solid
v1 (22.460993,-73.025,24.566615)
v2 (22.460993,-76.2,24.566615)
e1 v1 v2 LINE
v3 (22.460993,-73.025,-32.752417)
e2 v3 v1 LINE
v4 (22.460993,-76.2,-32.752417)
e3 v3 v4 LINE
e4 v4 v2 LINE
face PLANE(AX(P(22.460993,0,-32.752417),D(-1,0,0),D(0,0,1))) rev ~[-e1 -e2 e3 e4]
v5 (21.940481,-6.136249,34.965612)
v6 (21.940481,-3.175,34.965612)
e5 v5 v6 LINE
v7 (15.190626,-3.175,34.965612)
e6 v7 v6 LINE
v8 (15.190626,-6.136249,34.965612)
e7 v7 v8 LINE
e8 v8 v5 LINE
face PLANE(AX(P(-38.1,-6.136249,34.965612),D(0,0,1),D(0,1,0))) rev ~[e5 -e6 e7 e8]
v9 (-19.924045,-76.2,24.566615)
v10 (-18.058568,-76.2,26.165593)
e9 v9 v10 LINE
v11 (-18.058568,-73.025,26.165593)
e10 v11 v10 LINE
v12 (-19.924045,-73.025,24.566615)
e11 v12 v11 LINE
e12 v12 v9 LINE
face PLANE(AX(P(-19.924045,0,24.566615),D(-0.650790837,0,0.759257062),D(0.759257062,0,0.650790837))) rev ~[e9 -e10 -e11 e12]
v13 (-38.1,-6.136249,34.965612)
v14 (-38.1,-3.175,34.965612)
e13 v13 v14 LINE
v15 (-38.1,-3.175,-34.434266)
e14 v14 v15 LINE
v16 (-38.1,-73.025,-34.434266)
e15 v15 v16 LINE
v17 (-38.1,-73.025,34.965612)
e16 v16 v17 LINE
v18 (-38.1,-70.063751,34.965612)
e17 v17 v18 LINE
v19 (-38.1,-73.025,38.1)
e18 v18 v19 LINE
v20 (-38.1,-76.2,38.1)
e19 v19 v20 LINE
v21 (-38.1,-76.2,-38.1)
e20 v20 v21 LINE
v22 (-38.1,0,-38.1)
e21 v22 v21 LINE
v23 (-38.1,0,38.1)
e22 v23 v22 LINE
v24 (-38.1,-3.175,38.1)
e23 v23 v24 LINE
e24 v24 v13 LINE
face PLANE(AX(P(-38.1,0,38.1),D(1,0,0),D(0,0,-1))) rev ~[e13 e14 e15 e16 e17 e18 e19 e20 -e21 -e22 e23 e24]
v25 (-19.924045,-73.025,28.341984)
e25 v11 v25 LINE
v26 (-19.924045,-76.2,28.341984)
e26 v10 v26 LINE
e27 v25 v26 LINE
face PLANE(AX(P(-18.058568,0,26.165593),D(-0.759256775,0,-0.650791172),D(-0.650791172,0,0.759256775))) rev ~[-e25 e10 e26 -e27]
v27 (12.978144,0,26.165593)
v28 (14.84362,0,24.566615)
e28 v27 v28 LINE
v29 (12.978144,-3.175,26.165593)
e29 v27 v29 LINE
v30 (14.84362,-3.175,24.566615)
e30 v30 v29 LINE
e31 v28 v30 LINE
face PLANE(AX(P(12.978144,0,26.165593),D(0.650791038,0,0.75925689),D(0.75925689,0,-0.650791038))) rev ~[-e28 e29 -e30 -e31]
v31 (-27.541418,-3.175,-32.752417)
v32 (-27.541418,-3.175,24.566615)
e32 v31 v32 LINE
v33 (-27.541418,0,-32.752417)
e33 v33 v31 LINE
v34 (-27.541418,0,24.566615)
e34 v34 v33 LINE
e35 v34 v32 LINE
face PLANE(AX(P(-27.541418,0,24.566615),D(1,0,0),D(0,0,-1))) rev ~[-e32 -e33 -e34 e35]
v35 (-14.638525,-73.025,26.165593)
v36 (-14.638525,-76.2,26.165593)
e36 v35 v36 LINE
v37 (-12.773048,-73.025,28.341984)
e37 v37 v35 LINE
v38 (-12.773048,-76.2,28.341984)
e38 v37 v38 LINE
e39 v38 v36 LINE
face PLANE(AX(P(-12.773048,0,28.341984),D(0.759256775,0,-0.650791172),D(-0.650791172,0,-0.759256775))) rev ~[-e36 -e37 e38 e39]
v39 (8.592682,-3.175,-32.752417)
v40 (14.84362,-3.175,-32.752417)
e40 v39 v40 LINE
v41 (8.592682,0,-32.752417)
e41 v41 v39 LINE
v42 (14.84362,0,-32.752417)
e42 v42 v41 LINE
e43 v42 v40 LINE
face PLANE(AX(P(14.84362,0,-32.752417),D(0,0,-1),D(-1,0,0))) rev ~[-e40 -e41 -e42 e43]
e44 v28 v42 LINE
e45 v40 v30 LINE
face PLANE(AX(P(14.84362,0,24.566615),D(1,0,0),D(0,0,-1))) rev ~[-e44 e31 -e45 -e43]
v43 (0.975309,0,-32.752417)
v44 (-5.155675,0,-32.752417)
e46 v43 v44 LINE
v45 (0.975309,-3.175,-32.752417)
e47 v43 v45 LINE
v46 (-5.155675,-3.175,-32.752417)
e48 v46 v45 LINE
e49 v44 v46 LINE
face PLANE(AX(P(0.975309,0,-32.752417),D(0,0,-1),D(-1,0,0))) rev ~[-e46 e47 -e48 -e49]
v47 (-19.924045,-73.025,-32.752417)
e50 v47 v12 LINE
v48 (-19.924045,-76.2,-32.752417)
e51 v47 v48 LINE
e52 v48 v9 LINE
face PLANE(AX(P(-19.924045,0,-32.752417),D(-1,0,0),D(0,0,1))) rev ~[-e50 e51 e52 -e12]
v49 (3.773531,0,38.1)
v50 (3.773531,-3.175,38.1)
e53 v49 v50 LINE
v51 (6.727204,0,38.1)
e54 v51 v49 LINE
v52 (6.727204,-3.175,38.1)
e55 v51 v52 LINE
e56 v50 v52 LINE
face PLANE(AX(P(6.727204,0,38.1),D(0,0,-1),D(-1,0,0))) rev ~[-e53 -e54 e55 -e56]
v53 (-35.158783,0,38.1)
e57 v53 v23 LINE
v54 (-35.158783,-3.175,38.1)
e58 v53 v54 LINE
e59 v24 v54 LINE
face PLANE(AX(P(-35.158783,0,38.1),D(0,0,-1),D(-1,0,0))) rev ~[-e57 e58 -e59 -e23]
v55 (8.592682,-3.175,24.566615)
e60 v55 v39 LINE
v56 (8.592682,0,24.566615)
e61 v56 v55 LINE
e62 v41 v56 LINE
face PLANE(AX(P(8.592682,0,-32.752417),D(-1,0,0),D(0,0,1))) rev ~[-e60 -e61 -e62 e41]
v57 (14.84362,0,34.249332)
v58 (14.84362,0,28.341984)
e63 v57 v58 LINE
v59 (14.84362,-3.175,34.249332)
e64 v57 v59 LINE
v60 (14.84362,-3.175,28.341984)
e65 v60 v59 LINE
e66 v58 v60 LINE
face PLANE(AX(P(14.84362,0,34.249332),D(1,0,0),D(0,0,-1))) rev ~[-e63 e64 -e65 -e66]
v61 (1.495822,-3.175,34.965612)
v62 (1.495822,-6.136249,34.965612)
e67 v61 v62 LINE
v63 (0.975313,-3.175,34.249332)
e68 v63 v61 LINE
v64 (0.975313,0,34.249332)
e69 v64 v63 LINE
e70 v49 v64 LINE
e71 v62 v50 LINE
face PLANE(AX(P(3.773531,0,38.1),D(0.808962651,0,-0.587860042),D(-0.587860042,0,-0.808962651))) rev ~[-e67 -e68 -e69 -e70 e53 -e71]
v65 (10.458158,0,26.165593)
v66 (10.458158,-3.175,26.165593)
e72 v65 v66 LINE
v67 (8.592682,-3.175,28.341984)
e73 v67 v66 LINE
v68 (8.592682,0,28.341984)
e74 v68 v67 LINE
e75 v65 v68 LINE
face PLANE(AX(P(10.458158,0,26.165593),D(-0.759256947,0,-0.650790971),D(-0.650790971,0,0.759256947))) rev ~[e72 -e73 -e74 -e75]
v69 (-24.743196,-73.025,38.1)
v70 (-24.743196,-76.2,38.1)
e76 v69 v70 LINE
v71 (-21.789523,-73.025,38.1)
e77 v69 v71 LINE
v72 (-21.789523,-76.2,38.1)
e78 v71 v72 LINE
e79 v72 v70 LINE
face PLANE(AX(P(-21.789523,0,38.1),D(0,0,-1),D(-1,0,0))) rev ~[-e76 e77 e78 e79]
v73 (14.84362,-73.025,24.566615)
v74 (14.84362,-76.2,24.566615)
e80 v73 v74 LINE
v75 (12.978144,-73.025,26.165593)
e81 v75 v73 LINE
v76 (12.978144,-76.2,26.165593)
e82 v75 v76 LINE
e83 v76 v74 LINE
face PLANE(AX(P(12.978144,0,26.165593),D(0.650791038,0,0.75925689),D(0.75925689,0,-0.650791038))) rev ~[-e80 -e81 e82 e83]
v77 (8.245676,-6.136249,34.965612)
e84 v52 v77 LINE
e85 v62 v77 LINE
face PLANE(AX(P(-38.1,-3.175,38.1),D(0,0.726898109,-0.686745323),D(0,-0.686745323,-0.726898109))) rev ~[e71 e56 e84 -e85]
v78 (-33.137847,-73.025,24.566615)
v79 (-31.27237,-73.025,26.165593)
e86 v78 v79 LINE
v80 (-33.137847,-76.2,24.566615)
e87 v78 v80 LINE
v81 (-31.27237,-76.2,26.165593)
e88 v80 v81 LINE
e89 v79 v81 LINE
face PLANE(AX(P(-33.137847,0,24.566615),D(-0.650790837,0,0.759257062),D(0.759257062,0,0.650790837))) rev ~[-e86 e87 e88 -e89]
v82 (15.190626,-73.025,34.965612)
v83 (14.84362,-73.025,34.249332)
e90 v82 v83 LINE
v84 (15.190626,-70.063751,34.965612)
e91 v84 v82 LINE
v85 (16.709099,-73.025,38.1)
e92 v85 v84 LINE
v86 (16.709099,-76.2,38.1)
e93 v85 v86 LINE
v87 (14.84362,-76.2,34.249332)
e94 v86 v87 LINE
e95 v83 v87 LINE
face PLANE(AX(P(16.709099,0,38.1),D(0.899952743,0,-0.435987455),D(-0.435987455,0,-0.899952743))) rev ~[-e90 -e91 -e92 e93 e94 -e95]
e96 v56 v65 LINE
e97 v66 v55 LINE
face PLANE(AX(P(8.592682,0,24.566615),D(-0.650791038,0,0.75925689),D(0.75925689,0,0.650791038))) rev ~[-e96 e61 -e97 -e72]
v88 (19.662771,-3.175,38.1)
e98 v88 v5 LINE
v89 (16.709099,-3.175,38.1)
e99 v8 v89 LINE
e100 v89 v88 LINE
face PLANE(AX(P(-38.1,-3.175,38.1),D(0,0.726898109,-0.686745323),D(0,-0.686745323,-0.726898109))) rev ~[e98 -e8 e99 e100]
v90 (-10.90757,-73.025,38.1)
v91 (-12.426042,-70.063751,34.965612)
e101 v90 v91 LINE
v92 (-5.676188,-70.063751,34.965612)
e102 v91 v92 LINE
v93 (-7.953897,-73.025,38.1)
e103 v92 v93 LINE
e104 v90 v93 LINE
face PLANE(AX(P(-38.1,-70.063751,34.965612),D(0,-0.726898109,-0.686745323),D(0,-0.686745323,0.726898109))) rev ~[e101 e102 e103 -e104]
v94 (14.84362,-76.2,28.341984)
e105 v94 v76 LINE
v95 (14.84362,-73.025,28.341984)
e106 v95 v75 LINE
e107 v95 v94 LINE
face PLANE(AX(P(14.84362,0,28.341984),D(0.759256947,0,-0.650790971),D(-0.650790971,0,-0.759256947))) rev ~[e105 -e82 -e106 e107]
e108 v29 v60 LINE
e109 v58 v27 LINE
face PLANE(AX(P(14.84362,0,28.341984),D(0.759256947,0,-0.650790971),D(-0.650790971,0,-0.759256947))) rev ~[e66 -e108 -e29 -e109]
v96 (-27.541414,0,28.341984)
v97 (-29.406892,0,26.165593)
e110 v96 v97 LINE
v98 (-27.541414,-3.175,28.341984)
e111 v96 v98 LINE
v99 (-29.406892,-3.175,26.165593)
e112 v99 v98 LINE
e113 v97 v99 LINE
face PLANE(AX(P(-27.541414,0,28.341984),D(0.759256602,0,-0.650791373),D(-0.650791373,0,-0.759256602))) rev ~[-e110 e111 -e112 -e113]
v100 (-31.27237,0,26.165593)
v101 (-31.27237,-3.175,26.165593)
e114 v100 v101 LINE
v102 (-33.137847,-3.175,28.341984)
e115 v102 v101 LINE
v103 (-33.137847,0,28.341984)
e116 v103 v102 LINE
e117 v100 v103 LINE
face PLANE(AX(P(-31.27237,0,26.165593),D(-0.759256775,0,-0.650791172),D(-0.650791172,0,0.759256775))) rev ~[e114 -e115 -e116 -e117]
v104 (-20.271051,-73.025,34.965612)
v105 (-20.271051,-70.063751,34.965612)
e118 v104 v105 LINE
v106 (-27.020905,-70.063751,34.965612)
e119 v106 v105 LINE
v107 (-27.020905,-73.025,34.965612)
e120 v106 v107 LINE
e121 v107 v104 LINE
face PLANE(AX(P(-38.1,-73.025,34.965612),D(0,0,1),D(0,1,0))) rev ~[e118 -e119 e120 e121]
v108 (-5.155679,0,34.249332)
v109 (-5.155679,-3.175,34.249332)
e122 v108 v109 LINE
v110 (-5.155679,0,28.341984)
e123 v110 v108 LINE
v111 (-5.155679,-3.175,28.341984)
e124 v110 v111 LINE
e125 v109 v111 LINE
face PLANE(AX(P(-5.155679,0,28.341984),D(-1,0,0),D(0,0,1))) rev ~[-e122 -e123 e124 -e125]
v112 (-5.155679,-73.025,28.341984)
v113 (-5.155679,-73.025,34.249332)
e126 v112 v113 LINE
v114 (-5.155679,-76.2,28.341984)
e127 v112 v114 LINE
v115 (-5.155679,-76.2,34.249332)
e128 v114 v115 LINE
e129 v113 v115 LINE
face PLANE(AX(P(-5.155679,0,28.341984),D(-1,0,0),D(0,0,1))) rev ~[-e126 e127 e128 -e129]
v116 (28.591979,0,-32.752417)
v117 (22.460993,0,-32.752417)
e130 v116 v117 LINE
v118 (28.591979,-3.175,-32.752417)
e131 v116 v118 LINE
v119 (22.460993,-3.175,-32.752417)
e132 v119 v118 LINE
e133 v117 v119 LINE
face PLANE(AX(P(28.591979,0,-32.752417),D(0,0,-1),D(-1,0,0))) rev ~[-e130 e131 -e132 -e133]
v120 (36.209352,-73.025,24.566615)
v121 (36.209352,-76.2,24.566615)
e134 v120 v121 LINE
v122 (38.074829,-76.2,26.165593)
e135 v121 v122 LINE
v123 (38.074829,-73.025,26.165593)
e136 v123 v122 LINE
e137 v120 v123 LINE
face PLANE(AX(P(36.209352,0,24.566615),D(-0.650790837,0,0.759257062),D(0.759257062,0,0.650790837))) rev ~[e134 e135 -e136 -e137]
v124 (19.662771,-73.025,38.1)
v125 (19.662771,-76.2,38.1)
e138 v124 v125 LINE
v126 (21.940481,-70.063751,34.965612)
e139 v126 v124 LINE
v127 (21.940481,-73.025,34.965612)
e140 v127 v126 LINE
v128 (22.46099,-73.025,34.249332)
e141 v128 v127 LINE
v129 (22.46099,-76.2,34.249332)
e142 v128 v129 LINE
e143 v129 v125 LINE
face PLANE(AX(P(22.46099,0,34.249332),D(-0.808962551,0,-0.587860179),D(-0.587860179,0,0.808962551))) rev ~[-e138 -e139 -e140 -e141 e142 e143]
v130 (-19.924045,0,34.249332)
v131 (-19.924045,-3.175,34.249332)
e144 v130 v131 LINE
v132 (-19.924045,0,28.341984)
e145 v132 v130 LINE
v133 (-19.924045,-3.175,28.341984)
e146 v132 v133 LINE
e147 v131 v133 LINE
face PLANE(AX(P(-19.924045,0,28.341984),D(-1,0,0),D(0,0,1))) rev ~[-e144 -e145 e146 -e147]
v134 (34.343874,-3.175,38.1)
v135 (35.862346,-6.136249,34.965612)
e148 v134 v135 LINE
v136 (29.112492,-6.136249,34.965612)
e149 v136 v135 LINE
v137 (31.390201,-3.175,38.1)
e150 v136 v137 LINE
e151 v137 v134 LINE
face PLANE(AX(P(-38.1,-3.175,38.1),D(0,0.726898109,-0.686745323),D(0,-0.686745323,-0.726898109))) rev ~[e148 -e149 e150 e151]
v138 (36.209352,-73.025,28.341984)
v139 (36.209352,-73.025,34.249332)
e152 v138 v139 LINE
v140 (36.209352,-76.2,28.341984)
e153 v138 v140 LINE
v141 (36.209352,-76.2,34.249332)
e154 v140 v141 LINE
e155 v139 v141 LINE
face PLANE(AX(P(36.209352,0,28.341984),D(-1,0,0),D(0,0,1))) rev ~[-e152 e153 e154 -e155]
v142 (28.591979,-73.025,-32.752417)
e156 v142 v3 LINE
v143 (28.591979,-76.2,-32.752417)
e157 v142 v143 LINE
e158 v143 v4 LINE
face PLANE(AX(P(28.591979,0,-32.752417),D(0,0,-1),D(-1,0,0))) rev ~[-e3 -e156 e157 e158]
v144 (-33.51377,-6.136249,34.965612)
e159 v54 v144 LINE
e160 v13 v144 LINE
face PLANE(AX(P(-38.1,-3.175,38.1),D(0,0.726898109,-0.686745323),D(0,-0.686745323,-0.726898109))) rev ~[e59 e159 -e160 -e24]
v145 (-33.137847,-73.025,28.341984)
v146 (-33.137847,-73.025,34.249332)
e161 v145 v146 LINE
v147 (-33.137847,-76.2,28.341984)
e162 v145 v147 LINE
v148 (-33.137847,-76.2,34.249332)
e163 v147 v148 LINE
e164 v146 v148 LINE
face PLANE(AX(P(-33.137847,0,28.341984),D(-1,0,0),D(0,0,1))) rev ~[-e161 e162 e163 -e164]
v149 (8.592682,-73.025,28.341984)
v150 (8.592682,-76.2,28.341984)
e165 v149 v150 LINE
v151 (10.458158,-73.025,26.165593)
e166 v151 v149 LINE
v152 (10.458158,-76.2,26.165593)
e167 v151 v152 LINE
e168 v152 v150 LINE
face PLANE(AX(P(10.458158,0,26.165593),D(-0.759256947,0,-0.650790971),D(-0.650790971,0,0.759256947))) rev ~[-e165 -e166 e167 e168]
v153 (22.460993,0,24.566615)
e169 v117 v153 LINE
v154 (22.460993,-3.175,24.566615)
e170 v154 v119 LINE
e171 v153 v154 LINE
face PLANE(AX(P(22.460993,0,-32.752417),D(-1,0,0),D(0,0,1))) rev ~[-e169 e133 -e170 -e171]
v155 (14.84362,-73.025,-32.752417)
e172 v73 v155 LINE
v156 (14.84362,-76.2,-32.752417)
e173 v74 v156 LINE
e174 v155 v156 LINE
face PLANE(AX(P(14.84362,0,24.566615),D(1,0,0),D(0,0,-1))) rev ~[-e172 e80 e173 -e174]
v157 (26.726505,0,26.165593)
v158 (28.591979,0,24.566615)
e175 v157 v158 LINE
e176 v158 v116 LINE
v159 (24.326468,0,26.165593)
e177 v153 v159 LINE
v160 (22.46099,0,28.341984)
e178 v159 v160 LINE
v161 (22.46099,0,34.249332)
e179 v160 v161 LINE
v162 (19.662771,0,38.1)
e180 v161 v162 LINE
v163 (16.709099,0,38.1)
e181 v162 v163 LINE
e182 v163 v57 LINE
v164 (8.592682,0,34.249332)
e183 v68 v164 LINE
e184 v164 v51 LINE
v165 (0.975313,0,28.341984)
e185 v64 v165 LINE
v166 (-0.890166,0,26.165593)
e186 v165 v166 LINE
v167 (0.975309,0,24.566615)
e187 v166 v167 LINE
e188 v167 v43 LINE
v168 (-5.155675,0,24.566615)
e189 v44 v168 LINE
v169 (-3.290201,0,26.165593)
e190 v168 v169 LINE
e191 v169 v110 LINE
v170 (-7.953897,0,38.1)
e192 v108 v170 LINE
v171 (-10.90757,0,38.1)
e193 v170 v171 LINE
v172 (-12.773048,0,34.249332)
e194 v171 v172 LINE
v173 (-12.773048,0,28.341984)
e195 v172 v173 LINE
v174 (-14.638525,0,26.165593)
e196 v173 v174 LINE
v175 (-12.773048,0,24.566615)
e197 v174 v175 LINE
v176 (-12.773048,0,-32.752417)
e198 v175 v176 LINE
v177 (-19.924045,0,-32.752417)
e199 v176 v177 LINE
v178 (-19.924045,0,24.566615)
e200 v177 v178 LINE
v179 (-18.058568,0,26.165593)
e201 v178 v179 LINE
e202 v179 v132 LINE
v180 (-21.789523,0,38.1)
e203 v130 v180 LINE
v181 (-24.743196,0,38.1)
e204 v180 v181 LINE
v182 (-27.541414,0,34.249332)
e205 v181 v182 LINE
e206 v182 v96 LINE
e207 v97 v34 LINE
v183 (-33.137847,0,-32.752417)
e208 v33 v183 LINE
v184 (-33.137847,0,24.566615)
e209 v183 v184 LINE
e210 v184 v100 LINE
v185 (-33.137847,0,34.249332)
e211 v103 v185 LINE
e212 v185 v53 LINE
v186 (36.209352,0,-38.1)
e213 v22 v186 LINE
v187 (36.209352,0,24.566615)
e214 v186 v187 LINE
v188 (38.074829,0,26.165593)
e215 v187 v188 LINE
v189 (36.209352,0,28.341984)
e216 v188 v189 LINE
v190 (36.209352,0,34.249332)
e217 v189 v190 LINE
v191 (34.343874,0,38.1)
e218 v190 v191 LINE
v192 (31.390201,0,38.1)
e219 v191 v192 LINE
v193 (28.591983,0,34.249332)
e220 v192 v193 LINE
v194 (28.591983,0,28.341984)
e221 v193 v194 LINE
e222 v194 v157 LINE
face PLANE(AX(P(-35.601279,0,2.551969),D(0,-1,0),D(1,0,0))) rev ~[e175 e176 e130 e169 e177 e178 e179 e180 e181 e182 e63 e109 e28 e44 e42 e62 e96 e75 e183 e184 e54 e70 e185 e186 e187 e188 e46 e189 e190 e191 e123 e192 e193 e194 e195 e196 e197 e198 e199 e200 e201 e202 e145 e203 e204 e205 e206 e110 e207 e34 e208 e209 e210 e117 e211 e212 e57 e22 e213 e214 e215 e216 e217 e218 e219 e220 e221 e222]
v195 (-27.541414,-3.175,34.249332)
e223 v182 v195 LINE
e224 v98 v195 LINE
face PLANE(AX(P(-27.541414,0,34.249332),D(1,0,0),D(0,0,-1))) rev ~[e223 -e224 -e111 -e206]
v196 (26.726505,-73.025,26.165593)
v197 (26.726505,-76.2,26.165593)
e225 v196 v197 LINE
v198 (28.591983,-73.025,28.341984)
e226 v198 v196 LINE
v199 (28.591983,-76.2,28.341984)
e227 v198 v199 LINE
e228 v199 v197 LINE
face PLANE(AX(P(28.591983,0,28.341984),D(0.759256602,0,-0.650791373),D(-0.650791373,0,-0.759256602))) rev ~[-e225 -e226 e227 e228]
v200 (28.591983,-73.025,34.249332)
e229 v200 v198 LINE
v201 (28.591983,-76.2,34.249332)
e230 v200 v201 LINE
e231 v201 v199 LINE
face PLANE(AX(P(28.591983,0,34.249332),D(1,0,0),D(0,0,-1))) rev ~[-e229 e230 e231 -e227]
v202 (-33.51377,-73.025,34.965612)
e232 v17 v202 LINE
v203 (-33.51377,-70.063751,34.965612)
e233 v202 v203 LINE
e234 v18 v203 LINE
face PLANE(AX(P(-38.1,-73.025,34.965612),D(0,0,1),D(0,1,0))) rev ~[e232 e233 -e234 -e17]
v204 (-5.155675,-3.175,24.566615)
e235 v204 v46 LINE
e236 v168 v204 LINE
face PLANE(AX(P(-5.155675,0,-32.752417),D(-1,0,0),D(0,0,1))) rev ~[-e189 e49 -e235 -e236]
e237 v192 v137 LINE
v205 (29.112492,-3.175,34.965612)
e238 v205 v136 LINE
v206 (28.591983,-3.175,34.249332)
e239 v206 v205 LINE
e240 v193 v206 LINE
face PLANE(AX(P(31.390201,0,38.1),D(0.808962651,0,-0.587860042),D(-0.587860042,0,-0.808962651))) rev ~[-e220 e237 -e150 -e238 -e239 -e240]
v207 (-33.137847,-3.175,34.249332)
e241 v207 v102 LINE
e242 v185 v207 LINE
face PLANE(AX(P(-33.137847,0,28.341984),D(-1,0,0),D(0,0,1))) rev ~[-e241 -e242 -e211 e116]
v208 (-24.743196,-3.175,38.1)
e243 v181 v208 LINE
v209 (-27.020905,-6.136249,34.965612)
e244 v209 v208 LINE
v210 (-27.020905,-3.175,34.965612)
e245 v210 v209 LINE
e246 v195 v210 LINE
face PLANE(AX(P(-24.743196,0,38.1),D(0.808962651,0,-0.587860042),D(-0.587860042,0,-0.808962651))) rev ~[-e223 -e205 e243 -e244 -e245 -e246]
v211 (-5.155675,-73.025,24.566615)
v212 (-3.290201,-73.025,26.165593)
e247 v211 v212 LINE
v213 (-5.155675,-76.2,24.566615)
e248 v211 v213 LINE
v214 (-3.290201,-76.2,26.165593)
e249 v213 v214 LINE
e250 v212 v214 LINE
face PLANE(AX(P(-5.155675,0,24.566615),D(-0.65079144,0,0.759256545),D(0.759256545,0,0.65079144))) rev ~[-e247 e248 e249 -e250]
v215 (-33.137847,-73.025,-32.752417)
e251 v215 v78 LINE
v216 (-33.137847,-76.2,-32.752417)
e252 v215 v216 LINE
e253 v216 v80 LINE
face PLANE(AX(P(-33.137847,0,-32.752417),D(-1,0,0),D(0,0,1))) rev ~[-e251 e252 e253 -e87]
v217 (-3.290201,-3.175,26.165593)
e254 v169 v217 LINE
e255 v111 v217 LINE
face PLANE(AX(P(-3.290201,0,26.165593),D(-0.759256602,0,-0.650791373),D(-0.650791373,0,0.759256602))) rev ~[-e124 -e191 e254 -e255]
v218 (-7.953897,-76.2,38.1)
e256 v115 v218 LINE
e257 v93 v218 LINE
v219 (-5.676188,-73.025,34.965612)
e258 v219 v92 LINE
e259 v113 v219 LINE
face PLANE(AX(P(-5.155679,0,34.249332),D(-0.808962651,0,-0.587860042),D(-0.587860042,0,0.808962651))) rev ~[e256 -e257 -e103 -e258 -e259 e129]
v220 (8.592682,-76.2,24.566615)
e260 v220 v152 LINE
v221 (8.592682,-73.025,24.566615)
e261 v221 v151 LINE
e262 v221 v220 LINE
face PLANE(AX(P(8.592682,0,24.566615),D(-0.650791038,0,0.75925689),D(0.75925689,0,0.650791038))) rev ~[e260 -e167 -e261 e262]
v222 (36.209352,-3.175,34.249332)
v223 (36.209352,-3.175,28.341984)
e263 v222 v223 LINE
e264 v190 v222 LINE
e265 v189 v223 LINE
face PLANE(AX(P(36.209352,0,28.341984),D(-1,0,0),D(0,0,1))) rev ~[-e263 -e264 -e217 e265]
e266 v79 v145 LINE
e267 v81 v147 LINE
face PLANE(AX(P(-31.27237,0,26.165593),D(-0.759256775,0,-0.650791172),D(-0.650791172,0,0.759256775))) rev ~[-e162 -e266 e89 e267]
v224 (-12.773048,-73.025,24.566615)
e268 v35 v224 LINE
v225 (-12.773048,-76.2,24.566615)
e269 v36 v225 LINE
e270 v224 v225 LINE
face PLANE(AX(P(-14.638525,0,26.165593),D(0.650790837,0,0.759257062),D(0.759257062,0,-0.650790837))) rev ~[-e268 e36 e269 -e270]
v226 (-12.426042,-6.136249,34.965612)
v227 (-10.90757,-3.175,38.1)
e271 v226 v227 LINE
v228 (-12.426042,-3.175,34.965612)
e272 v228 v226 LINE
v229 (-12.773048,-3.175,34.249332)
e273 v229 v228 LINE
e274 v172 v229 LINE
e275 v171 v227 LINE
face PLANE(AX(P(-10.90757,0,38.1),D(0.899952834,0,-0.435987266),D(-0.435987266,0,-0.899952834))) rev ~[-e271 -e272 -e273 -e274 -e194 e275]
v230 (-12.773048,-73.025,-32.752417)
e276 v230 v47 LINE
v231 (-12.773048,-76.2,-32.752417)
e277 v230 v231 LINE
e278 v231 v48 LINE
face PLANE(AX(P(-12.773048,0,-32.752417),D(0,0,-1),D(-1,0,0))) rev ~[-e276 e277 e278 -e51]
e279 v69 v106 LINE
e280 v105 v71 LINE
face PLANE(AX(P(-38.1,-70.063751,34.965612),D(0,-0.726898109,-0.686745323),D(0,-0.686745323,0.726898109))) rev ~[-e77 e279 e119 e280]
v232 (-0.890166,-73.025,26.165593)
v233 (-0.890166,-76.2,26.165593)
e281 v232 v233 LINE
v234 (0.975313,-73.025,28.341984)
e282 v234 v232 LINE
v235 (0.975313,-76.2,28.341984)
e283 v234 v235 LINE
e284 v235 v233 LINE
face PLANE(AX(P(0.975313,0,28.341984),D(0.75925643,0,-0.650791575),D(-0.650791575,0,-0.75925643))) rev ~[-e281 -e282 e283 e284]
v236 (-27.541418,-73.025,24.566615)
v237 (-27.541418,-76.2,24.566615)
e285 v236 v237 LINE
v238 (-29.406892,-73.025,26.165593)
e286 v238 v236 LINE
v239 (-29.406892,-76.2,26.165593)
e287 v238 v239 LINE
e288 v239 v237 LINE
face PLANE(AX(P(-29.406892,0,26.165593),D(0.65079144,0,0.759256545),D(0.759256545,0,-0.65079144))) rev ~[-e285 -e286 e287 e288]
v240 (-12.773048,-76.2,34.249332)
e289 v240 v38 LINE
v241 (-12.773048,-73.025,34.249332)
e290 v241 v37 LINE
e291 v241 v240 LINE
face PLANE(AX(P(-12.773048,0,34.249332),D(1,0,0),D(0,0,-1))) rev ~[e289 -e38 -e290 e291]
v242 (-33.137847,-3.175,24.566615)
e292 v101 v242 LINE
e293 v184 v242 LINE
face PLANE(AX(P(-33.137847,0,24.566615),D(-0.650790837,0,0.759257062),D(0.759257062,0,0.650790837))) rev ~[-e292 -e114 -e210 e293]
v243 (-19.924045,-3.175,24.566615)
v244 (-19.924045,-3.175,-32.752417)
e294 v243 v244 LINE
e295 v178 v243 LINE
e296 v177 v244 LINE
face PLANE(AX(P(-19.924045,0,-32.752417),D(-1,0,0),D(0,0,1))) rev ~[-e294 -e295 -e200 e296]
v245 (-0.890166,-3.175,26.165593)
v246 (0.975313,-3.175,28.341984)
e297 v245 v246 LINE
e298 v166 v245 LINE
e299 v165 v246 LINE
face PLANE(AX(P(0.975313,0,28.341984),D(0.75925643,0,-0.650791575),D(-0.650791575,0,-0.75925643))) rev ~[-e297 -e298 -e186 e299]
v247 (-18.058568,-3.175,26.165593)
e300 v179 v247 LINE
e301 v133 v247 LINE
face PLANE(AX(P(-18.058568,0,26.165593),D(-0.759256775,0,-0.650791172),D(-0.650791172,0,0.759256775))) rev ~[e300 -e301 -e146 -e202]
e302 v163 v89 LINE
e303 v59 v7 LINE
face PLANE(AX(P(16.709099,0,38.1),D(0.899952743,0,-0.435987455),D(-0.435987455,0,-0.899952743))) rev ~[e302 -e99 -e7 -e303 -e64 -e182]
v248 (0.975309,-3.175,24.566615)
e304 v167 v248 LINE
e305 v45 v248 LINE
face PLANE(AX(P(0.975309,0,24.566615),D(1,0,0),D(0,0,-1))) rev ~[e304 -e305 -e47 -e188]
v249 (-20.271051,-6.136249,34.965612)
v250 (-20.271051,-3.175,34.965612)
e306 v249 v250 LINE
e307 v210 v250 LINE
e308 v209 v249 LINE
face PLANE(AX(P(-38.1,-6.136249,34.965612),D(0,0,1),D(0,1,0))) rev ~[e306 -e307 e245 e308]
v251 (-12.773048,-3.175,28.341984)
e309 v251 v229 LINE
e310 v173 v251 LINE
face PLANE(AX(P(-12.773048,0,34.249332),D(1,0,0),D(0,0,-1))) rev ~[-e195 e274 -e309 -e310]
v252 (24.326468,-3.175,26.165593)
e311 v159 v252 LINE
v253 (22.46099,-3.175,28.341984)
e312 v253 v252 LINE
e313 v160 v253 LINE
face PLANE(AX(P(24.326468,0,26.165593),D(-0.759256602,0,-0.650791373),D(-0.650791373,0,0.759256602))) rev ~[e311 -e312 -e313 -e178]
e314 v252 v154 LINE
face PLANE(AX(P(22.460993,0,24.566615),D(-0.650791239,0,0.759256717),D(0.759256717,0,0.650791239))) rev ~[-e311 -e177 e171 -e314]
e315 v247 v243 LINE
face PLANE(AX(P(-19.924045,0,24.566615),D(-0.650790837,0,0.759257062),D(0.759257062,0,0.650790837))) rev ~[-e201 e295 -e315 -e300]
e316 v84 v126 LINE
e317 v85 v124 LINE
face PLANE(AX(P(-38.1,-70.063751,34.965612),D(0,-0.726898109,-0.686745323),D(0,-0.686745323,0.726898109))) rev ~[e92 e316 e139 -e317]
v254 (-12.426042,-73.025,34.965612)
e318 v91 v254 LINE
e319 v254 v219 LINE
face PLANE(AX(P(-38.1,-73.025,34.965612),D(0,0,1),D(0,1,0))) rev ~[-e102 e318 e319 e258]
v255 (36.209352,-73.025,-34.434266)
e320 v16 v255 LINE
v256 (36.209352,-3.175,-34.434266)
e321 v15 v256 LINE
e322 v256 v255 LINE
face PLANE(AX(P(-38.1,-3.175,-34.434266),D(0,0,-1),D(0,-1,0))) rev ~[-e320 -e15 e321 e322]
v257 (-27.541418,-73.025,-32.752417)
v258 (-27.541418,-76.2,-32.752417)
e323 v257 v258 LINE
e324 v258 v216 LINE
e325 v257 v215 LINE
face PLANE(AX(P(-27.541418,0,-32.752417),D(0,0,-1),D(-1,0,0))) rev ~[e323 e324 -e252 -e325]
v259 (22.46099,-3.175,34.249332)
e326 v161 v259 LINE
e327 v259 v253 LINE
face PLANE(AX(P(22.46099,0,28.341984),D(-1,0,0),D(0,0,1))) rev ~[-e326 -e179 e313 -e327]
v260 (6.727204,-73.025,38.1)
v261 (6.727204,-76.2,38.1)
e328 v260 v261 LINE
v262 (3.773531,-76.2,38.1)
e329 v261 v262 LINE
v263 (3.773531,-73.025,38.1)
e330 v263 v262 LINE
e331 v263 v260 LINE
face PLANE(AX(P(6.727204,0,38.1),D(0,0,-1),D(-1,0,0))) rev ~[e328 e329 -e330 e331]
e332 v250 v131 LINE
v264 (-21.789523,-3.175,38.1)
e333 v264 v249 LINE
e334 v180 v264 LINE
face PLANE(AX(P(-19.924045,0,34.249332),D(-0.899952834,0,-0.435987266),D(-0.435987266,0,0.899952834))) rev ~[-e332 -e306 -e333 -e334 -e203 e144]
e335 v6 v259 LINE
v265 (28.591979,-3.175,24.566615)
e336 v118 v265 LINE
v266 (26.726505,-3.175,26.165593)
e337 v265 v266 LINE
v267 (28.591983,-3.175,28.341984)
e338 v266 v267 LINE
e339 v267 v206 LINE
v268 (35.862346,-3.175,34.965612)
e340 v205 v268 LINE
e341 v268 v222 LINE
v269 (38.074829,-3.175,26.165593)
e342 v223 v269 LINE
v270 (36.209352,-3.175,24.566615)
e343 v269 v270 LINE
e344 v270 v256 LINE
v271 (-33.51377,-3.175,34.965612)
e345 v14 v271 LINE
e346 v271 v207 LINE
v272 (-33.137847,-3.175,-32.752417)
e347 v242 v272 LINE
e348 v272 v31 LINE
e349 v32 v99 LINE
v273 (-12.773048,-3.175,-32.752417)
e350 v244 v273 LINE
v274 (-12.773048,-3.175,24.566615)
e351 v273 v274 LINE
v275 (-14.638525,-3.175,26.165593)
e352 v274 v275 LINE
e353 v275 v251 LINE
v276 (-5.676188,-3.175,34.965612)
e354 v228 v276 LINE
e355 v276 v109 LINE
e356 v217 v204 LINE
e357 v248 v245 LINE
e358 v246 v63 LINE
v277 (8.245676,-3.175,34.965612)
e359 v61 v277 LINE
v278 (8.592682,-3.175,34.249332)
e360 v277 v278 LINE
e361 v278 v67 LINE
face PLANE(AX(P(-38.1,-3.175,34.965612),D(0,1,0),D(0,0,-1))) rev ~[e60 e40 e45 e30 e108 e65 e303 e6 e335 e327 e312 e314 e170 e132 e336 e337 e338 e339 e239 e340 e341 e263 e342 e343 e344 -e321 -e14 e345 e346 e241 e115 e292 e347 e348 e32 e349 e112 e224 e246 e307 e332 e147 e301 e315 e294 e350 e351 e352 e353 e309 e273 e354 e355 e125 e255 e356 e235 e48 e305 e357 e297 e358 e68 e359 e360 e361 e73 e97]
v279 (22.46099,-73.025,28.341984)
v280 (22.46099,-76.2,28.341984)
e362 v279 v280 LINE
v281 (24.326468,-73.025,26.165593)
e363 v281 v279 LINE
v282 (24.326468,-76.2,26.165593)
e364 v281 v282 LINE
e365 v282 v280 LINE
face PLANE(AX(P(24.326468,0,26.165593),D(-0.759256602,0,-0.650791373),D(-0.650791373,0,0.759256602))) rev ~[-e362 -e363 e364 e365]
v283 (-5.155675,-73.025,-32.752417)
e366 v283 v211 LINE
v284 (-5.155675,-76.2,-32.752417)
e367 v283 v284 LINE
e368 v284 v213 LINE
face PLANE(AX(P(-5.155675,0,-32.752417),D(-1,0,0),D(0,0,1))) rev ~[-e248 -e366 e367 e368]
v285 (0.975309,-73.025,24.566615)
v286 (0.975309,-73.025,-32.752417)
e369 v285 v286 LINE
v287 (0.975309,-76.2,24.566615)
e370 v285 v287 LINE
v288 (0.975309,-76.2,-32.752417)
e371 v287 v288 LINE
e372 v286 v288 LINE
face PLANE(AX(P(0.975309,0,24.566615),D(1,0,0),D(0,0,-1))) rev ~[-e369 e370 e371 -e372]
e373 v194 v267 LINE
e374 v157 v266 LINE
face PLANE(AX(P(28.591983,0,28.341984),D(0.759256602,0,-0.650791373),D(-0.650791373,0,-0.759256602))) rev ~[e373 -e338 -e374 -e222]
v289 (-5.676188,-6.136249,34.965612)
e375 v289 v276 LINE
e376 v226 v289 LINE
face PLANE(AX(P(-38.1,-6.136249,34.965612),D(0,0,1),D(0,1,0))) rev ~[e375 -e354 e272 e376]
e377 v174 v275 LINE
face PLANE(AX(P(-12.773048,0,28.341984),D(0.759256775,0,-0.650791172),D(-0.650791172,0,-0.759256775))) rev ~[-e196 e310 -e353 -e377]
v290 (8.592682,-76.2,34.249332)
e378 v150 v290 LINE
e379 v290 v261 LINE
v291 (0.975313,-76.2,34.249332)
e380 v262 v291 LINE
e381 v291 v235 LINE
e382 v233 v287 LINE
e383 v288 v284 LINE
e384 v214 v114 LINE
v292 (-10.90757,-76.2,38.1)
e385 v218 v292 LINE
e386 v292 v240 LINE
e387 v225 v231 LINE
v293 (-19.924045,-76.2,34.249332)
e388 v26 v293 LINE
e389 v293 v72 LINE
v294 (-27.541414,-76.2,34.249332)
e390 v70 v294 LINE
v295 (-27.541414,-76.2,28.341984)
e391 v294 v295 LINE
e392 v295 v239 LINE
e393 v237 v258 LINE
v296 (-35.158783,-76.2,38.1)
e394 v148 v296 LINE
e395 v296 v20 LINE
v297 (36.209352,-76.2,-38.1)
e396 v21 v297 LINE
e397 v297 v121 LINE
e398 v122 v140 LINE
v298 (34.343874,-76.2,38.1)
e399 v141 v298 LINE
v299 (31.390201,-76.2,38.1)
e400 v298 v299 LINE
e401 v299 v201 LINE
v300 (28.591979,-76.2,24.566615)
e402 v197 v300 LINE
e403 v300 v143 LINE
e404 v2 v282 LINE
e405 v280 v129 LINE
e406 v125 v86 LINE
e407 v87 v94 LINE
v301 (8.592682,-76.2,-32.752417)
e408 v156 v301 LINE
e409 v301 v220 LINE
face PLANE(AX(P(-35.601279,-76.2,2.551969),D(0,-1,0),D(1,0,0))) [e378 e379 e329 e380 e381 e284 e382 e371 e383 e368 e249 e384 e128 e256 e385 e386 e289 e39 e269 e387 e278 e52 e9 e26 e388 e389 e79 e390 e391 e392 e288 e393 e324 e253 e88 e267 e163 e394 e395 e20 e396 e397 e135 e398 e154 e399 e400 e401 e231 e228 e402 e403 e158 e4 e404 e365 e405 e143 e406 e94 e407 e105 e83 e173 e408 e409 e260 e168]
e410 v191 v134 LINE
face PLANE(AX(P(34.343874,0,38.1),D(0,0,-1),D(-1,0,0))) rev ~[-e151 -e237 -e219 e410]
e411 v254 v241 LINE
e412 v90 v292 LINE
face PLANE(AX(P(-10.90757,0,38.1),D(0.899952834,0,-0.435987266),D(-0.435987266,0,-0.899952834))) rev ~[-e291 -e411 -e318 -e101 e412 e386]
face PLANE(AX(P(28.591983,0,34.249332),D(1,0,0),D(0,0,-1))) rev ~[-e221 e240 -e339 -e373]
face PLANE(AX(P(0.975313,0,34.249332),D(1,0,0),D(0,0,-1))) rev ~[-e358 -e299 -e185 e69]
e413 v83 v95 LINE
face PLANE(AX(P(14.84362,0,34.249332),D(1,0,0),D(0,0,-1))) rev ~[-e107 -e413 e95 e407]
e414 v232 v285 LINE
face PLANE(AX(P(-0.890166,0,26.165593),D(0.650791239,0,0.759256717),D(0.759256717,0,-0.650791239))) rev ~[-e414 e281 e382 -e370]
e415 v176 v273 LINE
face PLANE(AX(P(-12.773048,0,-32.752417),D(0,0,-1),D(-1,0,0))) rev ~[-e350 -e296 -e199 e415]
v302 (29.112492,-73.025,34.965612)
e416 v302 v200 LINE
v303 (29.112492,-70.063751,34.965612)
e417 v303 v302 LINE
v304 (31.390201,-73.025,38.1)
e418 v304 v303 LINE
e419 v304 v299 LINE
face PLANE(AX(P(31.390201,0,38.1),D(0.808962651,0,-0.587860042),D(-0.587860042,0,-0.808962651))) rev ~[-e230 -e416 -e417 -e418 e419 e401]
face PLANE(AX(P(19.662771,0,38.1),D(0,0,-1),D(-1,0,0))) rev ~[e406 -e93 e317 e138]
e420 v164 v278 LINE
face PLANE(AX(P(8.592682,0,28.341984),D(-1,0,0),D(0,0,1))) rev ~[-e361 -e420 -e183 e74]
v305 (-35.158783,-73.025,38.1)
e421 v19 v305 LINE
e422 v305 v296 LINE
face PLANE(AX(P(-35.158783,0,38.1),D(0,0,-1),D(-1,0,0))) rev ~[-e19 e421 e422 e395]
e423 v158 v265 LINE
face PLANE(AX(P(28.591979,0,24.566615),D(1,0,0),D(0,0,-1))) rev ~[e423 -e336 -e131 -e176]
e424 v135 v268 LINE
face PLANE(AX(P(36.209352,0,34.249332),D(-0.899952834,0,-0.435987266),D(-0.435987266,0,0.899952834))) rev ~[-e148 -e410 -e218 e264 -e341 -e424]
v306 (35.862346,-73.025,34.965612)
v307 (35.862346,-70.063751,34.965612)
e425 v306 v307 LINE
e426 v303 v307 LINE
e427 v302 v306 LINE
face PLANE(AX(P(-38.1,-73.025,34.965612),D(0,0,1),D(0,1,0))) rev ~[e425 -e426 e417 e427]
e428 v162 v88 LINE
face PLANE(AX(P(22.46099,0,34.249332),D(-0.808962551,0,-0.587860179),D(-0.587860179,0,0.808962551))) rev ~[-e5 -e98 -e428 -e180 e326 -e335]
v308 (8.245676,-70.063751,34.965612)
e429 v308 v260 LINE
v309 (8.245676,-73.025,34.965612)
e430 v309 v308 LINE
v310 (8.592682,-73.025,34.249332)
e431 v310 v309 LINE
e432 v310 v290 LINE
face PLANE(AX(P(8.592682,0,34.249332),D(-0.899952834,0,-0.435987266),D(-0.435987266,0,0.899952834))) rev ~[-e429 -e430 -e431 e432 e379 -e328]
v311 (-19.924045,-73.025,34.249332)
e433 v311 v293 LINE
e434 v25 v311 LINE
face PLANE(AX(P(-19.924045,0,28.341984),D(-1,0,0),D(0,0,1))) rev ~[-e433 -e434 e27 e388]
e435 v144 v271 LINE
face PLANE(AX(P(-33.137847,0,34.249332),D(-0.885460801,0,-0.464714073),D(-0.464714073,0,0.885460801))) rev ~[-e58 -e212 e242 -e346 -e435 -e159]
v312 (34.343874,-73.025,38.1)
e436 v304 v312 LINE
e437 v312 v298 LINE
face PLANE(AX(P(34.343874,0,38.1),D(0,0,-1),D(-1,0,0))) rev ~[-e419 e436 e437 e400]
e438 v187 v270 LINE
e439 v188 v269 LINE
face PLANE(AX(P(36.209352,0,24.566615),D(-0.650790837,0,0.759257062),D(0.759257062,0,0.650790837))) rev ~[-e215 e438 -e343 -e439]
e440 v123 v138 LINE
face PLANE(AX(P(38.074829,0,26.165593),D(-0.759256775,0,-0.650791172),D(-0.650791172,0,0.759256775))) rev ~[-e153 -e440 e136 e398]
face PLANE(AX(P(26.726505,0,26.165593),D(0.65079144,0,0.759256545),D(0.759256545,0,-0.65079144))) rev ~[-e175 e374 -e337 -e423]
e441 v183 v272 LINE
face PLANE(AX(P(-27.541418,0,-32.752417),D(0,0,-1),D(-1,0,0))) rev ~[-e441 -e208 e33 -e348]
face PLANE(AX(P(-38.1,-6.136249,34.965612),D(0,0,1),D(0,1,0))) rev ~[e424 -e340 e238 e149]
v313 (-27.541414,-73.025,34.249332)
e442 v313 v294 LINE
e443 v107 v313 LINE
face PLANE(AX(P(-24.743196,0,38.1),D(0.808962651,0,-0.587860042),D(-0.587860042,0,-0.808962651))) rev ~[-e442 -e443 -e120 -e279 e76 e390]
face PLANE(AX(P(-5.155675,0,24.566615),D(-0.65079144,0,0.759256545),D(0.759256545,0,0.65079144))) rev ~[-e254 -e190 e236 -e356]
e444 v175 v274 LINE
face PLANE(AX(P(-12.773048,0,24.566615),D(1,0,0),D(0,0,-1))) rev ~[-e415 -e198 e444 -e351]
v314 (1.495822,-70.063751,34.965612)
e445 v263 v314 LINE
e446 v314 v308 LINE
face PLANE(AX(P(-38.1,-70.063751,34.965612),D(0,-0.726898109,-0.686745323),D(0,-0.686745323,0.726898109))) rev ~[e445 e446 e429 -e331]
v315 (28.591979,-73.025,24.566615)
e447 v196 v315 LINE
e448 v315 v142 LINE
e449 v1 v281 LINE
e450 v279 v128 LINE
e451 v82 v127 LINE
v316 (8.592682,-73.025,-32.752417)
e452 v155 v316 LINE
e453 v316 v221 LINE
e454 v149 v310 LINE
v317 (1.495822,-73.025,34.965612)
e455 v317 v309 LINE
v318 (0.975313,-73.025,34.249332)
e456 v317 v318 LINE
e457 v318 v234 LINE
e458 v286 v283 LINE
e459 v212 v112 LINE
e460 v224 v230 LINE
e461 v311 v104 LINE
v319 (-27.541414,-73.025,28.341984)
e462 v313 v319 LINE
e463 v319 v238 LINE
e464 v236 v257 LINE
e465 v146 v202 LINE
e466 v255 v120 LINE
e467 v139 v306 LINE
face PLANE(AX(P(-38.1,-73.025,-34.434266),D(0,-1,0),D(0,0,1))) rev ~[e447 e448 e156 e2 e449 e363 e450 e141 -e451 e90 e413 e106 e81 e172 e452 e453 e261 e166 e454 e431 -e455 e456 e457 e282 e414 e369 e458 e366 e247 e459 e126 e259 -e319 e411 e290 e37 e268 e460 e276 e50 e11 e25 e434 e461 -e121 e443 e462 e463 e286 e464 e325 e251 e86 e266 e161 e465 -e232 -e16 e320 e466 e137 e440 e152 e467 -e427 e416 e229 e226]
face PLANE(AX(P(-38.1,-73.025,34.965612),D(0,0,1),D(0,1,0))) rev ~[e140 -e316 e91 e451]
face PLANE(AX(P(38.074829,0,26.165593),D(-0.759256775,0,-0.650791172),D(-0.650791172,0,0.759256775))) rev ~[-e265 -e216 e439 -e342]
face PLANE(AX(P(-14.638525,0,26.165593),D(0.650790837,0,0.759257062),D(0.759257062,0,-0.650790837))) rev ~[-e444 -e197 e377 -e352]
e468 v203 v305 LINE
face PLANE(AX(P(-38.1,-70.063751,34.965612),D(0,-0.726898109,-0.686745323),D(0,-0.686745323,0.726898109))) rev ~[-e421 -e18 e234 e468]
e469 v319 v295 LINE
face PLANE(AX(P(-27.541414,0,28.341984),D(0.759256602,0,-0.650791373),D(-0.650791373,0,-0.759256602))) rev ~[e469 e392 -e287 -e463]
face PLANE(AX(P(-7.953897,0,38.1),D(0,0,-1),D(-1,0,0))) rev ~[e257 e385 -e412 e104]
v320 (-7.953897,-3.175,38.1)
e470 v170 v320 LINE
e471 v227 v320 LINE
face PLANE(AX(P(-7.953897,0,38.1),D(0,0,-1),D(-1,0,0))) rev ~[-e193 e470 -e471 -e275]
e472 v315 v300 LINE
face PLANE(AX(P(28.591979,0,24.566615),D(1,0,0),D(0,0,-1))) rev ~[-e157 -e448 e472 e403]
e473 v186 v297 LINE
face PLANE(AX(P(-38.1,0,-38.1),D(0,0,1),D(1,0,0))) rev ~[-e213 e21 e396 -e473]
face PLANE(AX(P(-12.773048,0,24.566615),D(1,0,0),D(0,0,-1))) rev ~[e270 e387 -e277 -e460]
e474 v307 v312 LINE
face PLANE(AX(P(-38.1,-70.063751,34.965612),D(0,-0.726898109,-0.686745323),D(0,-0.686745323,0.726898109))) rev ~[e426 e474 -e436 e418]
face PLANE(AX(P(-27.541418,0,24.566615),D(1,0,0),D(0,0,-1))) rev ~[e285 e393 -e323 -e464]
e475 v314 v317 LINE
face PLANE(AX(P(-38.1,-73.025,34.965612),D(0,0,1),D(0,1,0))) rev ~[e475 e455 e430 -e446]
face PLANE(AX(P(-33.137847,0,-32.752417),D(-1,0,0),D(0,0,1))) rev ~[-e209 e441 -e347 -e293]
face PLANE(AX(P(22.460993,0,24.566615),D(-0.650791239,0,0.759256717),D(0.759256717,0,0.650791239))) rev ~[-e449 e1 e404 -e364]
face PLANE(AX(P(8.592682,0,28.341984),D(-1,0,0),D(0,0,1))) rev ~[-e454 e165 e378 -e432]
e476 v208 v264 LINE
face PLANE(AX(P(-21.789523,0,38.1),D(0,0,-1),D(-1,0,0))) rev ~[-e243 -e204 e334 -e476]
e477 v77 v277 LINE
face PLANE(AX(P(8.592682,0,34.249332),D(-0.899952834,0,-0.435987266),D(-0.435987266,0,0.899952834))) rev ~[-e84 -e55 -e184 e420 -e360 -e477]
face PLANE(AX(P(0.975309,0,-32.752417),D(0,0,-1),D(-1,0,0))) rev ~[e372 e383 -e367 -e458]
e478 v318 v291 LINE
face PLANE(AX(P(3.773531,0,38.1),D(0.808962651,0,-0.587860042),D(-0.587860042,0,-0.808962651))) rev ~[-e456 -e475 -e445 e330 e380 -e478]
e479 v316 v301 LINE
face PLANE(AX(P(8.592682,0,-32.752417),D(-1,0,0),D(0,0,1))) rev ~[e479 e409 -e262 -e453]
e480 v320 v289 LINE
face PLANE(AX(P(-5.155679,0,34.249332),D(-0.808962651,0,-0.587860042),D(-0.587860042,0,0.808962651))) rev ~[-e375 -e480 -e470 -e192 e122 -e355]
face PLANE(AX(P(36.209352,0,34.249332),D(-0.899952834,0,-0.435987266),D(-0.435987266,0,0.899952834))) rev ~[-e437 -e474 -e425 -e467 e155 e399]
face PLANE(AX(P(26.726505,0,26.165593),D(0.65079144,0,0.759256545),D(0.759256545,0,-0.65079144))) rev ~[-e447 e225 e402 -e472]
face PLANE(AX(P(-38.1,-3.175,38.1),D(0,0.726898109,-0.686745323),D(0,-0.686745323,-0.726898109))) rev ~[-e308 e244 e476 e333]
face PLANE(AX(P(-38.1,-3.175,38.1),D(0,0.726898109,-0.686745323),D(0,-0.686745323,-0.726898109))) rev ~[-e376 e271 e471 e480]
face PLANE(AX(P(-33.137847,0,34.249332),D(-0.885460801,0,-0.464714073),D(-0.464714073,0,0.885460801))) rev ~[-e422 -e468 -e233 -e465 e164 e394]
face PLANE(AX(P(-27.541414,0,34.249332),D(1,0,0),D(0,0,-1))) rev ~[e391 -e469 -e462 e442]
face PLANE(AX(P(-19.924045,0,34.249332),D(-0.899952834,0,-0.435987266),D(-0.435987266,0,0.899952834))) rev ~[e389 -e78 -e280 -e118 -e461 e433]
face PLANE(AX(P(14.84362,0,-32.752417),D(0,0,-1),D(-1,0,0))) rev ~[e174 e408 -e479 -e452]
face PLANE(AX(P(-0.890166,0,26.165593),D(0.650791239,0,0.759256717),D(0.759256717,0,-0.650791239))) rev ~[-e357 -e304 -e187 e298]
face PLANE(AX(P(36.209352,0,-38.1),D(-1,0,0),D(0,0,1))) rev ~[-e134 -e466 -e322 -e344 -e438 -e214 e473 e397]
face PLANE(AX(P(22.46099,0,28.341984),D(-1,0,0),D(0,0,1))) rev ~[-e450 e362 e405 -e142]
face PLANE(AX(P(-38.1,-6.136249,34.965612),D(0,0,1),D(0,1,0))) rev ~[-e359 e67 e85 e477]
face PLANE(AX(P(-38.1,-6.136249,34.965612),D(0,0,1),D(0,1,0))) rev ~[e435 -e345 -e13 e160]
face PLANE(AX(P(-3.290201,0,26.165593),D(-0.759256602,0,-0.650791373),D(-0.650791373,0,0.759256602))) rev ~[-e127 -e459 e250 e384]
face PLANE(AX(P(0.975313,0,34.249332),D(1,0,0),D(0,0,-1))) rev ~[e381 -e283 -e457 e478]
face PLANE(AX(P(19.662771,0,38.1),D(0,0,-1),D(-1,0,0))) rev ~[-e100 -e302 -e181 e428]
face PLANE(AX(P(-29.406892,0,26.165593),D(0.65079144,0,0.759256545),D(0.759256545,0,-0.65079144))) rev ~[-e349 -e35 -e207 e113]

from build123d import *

# Parameters (mm, degrees)
F1_DEPTH = 76.2
F3_DEPTH = 76.175829


with BuildPart() as f1:
    # F0 (on Front) → F1 (new body)
    with BuildSketch(Plane.XZ):
        Polygon((-35.158783, 38.1), (-38.1, 38.1), (-38.1, -32.752417), (-33.137847, -32.752417), (-33.137847, 24.566615), (-31.27237, 26.165593), (-33.137847, 28.341984), (-33.137847, 34.249332), align=None)
        Polygon((-33.137847, -32.752417), (-38.1, -32.752417), (-38.1, -38.1), (36.209352, -38.1), (36.209352, -32.752417), (28.591979, -32.752417), (22.460993, -32.752417), (14.84362, -32.752417), (8.592682, -32.752417), (0.975309, -32.752417), (-5.155675, -32.752417), (-12.773048, -32.752417), (-19.924045, -32.752417), (-27.541418, -32.752417), align=None)
        Polygon((-27.541418, 24.566615), (-27.541418, -32.752417), (-19.924045, -32.752417), (-19.924045, 24.566615), (-18.058568, 26.165593), (-19.924045, 28.341984), (-19.924045, 34.249332), (-21.789523, 38.1), (-24.743196, 38.1), (-27.541414, 34.249332), (-27.541414, 28.341984), (-29.406892, 26.165593), align=None)
        Polygon((28.591979, -32.752417), (36.209352, -32.752417), (36.209352, 24.566615), (38.074829, 26.165593), (36.209352, 28.341984), (36.209352, 34.249332), (34.343874, 38.1), (31.390201, 38.1), (28.591983, 34.249332), (28.591983, 28.341984), (26.726505, 26.165593), (28.591979, 24.566615), align=None)
        Polygon((-12.773048, 24.566615), (-12.773048, -32.752417), (-5.155675, -32.752417), (-5.155675, 24.566615), (-3.290201, 26.165593), (-5.155679, 28.341984), (-5.155679, 34.249332), (-7.953897, 38.1), (-10.90757, 38.1), (-12.773048, 34.249332), (-12.773048, 28.341984), (-14.638525, 26.165593), align=None)
        Polygon((14.84362, -32.752417), (22.460993, -32.752417), (22.460993, 24.566615), (24.326468, 26.165593), (22.46099, 28.341984), (22.46099, 34.249332), (19.662771, 38.1), (16.709099, 38.1), (14.84362, 34.249332), (14.84362, 28.341984), (12.978144, 26.165593), (14.84362, 24.566615), align=None)
        Polygon((0.975309, 24.566615), (0.975309, -32.752417), (8.592682, -32.752417), (8.592682, 24.566615), (10.458158, 26.165593), (8.592682, 28.341984), (8.592682, 34.249332), (6.727204, 38.1), (3.773531, 38.1), (0.975313, 34.249332), (0.975313, 28.341984), (-0.890166, 26.165593), align=None)
    extrude(amount=F1_DEPTH)

    # F2 (on face) → F3 (cut, through all)
    with BuildSketch(Plane(origin=(-38.1, 0, 0), x_dir=(0, -1, 0), z_dir=(-1, 0, 0))):
        Polygon((73.025, 38.1), (3.175, 38.1), (6.136249, 34.965612), (3.175, 34.965612), (3.175, -34.434266), (73.025, -34.434266), (73.025, 34.965612), (70.063751, 34.965612), align=None)
    extrude(amount=-F3_DEPTH, mode=Mode.SUBTRACT)


solid = f1.part
